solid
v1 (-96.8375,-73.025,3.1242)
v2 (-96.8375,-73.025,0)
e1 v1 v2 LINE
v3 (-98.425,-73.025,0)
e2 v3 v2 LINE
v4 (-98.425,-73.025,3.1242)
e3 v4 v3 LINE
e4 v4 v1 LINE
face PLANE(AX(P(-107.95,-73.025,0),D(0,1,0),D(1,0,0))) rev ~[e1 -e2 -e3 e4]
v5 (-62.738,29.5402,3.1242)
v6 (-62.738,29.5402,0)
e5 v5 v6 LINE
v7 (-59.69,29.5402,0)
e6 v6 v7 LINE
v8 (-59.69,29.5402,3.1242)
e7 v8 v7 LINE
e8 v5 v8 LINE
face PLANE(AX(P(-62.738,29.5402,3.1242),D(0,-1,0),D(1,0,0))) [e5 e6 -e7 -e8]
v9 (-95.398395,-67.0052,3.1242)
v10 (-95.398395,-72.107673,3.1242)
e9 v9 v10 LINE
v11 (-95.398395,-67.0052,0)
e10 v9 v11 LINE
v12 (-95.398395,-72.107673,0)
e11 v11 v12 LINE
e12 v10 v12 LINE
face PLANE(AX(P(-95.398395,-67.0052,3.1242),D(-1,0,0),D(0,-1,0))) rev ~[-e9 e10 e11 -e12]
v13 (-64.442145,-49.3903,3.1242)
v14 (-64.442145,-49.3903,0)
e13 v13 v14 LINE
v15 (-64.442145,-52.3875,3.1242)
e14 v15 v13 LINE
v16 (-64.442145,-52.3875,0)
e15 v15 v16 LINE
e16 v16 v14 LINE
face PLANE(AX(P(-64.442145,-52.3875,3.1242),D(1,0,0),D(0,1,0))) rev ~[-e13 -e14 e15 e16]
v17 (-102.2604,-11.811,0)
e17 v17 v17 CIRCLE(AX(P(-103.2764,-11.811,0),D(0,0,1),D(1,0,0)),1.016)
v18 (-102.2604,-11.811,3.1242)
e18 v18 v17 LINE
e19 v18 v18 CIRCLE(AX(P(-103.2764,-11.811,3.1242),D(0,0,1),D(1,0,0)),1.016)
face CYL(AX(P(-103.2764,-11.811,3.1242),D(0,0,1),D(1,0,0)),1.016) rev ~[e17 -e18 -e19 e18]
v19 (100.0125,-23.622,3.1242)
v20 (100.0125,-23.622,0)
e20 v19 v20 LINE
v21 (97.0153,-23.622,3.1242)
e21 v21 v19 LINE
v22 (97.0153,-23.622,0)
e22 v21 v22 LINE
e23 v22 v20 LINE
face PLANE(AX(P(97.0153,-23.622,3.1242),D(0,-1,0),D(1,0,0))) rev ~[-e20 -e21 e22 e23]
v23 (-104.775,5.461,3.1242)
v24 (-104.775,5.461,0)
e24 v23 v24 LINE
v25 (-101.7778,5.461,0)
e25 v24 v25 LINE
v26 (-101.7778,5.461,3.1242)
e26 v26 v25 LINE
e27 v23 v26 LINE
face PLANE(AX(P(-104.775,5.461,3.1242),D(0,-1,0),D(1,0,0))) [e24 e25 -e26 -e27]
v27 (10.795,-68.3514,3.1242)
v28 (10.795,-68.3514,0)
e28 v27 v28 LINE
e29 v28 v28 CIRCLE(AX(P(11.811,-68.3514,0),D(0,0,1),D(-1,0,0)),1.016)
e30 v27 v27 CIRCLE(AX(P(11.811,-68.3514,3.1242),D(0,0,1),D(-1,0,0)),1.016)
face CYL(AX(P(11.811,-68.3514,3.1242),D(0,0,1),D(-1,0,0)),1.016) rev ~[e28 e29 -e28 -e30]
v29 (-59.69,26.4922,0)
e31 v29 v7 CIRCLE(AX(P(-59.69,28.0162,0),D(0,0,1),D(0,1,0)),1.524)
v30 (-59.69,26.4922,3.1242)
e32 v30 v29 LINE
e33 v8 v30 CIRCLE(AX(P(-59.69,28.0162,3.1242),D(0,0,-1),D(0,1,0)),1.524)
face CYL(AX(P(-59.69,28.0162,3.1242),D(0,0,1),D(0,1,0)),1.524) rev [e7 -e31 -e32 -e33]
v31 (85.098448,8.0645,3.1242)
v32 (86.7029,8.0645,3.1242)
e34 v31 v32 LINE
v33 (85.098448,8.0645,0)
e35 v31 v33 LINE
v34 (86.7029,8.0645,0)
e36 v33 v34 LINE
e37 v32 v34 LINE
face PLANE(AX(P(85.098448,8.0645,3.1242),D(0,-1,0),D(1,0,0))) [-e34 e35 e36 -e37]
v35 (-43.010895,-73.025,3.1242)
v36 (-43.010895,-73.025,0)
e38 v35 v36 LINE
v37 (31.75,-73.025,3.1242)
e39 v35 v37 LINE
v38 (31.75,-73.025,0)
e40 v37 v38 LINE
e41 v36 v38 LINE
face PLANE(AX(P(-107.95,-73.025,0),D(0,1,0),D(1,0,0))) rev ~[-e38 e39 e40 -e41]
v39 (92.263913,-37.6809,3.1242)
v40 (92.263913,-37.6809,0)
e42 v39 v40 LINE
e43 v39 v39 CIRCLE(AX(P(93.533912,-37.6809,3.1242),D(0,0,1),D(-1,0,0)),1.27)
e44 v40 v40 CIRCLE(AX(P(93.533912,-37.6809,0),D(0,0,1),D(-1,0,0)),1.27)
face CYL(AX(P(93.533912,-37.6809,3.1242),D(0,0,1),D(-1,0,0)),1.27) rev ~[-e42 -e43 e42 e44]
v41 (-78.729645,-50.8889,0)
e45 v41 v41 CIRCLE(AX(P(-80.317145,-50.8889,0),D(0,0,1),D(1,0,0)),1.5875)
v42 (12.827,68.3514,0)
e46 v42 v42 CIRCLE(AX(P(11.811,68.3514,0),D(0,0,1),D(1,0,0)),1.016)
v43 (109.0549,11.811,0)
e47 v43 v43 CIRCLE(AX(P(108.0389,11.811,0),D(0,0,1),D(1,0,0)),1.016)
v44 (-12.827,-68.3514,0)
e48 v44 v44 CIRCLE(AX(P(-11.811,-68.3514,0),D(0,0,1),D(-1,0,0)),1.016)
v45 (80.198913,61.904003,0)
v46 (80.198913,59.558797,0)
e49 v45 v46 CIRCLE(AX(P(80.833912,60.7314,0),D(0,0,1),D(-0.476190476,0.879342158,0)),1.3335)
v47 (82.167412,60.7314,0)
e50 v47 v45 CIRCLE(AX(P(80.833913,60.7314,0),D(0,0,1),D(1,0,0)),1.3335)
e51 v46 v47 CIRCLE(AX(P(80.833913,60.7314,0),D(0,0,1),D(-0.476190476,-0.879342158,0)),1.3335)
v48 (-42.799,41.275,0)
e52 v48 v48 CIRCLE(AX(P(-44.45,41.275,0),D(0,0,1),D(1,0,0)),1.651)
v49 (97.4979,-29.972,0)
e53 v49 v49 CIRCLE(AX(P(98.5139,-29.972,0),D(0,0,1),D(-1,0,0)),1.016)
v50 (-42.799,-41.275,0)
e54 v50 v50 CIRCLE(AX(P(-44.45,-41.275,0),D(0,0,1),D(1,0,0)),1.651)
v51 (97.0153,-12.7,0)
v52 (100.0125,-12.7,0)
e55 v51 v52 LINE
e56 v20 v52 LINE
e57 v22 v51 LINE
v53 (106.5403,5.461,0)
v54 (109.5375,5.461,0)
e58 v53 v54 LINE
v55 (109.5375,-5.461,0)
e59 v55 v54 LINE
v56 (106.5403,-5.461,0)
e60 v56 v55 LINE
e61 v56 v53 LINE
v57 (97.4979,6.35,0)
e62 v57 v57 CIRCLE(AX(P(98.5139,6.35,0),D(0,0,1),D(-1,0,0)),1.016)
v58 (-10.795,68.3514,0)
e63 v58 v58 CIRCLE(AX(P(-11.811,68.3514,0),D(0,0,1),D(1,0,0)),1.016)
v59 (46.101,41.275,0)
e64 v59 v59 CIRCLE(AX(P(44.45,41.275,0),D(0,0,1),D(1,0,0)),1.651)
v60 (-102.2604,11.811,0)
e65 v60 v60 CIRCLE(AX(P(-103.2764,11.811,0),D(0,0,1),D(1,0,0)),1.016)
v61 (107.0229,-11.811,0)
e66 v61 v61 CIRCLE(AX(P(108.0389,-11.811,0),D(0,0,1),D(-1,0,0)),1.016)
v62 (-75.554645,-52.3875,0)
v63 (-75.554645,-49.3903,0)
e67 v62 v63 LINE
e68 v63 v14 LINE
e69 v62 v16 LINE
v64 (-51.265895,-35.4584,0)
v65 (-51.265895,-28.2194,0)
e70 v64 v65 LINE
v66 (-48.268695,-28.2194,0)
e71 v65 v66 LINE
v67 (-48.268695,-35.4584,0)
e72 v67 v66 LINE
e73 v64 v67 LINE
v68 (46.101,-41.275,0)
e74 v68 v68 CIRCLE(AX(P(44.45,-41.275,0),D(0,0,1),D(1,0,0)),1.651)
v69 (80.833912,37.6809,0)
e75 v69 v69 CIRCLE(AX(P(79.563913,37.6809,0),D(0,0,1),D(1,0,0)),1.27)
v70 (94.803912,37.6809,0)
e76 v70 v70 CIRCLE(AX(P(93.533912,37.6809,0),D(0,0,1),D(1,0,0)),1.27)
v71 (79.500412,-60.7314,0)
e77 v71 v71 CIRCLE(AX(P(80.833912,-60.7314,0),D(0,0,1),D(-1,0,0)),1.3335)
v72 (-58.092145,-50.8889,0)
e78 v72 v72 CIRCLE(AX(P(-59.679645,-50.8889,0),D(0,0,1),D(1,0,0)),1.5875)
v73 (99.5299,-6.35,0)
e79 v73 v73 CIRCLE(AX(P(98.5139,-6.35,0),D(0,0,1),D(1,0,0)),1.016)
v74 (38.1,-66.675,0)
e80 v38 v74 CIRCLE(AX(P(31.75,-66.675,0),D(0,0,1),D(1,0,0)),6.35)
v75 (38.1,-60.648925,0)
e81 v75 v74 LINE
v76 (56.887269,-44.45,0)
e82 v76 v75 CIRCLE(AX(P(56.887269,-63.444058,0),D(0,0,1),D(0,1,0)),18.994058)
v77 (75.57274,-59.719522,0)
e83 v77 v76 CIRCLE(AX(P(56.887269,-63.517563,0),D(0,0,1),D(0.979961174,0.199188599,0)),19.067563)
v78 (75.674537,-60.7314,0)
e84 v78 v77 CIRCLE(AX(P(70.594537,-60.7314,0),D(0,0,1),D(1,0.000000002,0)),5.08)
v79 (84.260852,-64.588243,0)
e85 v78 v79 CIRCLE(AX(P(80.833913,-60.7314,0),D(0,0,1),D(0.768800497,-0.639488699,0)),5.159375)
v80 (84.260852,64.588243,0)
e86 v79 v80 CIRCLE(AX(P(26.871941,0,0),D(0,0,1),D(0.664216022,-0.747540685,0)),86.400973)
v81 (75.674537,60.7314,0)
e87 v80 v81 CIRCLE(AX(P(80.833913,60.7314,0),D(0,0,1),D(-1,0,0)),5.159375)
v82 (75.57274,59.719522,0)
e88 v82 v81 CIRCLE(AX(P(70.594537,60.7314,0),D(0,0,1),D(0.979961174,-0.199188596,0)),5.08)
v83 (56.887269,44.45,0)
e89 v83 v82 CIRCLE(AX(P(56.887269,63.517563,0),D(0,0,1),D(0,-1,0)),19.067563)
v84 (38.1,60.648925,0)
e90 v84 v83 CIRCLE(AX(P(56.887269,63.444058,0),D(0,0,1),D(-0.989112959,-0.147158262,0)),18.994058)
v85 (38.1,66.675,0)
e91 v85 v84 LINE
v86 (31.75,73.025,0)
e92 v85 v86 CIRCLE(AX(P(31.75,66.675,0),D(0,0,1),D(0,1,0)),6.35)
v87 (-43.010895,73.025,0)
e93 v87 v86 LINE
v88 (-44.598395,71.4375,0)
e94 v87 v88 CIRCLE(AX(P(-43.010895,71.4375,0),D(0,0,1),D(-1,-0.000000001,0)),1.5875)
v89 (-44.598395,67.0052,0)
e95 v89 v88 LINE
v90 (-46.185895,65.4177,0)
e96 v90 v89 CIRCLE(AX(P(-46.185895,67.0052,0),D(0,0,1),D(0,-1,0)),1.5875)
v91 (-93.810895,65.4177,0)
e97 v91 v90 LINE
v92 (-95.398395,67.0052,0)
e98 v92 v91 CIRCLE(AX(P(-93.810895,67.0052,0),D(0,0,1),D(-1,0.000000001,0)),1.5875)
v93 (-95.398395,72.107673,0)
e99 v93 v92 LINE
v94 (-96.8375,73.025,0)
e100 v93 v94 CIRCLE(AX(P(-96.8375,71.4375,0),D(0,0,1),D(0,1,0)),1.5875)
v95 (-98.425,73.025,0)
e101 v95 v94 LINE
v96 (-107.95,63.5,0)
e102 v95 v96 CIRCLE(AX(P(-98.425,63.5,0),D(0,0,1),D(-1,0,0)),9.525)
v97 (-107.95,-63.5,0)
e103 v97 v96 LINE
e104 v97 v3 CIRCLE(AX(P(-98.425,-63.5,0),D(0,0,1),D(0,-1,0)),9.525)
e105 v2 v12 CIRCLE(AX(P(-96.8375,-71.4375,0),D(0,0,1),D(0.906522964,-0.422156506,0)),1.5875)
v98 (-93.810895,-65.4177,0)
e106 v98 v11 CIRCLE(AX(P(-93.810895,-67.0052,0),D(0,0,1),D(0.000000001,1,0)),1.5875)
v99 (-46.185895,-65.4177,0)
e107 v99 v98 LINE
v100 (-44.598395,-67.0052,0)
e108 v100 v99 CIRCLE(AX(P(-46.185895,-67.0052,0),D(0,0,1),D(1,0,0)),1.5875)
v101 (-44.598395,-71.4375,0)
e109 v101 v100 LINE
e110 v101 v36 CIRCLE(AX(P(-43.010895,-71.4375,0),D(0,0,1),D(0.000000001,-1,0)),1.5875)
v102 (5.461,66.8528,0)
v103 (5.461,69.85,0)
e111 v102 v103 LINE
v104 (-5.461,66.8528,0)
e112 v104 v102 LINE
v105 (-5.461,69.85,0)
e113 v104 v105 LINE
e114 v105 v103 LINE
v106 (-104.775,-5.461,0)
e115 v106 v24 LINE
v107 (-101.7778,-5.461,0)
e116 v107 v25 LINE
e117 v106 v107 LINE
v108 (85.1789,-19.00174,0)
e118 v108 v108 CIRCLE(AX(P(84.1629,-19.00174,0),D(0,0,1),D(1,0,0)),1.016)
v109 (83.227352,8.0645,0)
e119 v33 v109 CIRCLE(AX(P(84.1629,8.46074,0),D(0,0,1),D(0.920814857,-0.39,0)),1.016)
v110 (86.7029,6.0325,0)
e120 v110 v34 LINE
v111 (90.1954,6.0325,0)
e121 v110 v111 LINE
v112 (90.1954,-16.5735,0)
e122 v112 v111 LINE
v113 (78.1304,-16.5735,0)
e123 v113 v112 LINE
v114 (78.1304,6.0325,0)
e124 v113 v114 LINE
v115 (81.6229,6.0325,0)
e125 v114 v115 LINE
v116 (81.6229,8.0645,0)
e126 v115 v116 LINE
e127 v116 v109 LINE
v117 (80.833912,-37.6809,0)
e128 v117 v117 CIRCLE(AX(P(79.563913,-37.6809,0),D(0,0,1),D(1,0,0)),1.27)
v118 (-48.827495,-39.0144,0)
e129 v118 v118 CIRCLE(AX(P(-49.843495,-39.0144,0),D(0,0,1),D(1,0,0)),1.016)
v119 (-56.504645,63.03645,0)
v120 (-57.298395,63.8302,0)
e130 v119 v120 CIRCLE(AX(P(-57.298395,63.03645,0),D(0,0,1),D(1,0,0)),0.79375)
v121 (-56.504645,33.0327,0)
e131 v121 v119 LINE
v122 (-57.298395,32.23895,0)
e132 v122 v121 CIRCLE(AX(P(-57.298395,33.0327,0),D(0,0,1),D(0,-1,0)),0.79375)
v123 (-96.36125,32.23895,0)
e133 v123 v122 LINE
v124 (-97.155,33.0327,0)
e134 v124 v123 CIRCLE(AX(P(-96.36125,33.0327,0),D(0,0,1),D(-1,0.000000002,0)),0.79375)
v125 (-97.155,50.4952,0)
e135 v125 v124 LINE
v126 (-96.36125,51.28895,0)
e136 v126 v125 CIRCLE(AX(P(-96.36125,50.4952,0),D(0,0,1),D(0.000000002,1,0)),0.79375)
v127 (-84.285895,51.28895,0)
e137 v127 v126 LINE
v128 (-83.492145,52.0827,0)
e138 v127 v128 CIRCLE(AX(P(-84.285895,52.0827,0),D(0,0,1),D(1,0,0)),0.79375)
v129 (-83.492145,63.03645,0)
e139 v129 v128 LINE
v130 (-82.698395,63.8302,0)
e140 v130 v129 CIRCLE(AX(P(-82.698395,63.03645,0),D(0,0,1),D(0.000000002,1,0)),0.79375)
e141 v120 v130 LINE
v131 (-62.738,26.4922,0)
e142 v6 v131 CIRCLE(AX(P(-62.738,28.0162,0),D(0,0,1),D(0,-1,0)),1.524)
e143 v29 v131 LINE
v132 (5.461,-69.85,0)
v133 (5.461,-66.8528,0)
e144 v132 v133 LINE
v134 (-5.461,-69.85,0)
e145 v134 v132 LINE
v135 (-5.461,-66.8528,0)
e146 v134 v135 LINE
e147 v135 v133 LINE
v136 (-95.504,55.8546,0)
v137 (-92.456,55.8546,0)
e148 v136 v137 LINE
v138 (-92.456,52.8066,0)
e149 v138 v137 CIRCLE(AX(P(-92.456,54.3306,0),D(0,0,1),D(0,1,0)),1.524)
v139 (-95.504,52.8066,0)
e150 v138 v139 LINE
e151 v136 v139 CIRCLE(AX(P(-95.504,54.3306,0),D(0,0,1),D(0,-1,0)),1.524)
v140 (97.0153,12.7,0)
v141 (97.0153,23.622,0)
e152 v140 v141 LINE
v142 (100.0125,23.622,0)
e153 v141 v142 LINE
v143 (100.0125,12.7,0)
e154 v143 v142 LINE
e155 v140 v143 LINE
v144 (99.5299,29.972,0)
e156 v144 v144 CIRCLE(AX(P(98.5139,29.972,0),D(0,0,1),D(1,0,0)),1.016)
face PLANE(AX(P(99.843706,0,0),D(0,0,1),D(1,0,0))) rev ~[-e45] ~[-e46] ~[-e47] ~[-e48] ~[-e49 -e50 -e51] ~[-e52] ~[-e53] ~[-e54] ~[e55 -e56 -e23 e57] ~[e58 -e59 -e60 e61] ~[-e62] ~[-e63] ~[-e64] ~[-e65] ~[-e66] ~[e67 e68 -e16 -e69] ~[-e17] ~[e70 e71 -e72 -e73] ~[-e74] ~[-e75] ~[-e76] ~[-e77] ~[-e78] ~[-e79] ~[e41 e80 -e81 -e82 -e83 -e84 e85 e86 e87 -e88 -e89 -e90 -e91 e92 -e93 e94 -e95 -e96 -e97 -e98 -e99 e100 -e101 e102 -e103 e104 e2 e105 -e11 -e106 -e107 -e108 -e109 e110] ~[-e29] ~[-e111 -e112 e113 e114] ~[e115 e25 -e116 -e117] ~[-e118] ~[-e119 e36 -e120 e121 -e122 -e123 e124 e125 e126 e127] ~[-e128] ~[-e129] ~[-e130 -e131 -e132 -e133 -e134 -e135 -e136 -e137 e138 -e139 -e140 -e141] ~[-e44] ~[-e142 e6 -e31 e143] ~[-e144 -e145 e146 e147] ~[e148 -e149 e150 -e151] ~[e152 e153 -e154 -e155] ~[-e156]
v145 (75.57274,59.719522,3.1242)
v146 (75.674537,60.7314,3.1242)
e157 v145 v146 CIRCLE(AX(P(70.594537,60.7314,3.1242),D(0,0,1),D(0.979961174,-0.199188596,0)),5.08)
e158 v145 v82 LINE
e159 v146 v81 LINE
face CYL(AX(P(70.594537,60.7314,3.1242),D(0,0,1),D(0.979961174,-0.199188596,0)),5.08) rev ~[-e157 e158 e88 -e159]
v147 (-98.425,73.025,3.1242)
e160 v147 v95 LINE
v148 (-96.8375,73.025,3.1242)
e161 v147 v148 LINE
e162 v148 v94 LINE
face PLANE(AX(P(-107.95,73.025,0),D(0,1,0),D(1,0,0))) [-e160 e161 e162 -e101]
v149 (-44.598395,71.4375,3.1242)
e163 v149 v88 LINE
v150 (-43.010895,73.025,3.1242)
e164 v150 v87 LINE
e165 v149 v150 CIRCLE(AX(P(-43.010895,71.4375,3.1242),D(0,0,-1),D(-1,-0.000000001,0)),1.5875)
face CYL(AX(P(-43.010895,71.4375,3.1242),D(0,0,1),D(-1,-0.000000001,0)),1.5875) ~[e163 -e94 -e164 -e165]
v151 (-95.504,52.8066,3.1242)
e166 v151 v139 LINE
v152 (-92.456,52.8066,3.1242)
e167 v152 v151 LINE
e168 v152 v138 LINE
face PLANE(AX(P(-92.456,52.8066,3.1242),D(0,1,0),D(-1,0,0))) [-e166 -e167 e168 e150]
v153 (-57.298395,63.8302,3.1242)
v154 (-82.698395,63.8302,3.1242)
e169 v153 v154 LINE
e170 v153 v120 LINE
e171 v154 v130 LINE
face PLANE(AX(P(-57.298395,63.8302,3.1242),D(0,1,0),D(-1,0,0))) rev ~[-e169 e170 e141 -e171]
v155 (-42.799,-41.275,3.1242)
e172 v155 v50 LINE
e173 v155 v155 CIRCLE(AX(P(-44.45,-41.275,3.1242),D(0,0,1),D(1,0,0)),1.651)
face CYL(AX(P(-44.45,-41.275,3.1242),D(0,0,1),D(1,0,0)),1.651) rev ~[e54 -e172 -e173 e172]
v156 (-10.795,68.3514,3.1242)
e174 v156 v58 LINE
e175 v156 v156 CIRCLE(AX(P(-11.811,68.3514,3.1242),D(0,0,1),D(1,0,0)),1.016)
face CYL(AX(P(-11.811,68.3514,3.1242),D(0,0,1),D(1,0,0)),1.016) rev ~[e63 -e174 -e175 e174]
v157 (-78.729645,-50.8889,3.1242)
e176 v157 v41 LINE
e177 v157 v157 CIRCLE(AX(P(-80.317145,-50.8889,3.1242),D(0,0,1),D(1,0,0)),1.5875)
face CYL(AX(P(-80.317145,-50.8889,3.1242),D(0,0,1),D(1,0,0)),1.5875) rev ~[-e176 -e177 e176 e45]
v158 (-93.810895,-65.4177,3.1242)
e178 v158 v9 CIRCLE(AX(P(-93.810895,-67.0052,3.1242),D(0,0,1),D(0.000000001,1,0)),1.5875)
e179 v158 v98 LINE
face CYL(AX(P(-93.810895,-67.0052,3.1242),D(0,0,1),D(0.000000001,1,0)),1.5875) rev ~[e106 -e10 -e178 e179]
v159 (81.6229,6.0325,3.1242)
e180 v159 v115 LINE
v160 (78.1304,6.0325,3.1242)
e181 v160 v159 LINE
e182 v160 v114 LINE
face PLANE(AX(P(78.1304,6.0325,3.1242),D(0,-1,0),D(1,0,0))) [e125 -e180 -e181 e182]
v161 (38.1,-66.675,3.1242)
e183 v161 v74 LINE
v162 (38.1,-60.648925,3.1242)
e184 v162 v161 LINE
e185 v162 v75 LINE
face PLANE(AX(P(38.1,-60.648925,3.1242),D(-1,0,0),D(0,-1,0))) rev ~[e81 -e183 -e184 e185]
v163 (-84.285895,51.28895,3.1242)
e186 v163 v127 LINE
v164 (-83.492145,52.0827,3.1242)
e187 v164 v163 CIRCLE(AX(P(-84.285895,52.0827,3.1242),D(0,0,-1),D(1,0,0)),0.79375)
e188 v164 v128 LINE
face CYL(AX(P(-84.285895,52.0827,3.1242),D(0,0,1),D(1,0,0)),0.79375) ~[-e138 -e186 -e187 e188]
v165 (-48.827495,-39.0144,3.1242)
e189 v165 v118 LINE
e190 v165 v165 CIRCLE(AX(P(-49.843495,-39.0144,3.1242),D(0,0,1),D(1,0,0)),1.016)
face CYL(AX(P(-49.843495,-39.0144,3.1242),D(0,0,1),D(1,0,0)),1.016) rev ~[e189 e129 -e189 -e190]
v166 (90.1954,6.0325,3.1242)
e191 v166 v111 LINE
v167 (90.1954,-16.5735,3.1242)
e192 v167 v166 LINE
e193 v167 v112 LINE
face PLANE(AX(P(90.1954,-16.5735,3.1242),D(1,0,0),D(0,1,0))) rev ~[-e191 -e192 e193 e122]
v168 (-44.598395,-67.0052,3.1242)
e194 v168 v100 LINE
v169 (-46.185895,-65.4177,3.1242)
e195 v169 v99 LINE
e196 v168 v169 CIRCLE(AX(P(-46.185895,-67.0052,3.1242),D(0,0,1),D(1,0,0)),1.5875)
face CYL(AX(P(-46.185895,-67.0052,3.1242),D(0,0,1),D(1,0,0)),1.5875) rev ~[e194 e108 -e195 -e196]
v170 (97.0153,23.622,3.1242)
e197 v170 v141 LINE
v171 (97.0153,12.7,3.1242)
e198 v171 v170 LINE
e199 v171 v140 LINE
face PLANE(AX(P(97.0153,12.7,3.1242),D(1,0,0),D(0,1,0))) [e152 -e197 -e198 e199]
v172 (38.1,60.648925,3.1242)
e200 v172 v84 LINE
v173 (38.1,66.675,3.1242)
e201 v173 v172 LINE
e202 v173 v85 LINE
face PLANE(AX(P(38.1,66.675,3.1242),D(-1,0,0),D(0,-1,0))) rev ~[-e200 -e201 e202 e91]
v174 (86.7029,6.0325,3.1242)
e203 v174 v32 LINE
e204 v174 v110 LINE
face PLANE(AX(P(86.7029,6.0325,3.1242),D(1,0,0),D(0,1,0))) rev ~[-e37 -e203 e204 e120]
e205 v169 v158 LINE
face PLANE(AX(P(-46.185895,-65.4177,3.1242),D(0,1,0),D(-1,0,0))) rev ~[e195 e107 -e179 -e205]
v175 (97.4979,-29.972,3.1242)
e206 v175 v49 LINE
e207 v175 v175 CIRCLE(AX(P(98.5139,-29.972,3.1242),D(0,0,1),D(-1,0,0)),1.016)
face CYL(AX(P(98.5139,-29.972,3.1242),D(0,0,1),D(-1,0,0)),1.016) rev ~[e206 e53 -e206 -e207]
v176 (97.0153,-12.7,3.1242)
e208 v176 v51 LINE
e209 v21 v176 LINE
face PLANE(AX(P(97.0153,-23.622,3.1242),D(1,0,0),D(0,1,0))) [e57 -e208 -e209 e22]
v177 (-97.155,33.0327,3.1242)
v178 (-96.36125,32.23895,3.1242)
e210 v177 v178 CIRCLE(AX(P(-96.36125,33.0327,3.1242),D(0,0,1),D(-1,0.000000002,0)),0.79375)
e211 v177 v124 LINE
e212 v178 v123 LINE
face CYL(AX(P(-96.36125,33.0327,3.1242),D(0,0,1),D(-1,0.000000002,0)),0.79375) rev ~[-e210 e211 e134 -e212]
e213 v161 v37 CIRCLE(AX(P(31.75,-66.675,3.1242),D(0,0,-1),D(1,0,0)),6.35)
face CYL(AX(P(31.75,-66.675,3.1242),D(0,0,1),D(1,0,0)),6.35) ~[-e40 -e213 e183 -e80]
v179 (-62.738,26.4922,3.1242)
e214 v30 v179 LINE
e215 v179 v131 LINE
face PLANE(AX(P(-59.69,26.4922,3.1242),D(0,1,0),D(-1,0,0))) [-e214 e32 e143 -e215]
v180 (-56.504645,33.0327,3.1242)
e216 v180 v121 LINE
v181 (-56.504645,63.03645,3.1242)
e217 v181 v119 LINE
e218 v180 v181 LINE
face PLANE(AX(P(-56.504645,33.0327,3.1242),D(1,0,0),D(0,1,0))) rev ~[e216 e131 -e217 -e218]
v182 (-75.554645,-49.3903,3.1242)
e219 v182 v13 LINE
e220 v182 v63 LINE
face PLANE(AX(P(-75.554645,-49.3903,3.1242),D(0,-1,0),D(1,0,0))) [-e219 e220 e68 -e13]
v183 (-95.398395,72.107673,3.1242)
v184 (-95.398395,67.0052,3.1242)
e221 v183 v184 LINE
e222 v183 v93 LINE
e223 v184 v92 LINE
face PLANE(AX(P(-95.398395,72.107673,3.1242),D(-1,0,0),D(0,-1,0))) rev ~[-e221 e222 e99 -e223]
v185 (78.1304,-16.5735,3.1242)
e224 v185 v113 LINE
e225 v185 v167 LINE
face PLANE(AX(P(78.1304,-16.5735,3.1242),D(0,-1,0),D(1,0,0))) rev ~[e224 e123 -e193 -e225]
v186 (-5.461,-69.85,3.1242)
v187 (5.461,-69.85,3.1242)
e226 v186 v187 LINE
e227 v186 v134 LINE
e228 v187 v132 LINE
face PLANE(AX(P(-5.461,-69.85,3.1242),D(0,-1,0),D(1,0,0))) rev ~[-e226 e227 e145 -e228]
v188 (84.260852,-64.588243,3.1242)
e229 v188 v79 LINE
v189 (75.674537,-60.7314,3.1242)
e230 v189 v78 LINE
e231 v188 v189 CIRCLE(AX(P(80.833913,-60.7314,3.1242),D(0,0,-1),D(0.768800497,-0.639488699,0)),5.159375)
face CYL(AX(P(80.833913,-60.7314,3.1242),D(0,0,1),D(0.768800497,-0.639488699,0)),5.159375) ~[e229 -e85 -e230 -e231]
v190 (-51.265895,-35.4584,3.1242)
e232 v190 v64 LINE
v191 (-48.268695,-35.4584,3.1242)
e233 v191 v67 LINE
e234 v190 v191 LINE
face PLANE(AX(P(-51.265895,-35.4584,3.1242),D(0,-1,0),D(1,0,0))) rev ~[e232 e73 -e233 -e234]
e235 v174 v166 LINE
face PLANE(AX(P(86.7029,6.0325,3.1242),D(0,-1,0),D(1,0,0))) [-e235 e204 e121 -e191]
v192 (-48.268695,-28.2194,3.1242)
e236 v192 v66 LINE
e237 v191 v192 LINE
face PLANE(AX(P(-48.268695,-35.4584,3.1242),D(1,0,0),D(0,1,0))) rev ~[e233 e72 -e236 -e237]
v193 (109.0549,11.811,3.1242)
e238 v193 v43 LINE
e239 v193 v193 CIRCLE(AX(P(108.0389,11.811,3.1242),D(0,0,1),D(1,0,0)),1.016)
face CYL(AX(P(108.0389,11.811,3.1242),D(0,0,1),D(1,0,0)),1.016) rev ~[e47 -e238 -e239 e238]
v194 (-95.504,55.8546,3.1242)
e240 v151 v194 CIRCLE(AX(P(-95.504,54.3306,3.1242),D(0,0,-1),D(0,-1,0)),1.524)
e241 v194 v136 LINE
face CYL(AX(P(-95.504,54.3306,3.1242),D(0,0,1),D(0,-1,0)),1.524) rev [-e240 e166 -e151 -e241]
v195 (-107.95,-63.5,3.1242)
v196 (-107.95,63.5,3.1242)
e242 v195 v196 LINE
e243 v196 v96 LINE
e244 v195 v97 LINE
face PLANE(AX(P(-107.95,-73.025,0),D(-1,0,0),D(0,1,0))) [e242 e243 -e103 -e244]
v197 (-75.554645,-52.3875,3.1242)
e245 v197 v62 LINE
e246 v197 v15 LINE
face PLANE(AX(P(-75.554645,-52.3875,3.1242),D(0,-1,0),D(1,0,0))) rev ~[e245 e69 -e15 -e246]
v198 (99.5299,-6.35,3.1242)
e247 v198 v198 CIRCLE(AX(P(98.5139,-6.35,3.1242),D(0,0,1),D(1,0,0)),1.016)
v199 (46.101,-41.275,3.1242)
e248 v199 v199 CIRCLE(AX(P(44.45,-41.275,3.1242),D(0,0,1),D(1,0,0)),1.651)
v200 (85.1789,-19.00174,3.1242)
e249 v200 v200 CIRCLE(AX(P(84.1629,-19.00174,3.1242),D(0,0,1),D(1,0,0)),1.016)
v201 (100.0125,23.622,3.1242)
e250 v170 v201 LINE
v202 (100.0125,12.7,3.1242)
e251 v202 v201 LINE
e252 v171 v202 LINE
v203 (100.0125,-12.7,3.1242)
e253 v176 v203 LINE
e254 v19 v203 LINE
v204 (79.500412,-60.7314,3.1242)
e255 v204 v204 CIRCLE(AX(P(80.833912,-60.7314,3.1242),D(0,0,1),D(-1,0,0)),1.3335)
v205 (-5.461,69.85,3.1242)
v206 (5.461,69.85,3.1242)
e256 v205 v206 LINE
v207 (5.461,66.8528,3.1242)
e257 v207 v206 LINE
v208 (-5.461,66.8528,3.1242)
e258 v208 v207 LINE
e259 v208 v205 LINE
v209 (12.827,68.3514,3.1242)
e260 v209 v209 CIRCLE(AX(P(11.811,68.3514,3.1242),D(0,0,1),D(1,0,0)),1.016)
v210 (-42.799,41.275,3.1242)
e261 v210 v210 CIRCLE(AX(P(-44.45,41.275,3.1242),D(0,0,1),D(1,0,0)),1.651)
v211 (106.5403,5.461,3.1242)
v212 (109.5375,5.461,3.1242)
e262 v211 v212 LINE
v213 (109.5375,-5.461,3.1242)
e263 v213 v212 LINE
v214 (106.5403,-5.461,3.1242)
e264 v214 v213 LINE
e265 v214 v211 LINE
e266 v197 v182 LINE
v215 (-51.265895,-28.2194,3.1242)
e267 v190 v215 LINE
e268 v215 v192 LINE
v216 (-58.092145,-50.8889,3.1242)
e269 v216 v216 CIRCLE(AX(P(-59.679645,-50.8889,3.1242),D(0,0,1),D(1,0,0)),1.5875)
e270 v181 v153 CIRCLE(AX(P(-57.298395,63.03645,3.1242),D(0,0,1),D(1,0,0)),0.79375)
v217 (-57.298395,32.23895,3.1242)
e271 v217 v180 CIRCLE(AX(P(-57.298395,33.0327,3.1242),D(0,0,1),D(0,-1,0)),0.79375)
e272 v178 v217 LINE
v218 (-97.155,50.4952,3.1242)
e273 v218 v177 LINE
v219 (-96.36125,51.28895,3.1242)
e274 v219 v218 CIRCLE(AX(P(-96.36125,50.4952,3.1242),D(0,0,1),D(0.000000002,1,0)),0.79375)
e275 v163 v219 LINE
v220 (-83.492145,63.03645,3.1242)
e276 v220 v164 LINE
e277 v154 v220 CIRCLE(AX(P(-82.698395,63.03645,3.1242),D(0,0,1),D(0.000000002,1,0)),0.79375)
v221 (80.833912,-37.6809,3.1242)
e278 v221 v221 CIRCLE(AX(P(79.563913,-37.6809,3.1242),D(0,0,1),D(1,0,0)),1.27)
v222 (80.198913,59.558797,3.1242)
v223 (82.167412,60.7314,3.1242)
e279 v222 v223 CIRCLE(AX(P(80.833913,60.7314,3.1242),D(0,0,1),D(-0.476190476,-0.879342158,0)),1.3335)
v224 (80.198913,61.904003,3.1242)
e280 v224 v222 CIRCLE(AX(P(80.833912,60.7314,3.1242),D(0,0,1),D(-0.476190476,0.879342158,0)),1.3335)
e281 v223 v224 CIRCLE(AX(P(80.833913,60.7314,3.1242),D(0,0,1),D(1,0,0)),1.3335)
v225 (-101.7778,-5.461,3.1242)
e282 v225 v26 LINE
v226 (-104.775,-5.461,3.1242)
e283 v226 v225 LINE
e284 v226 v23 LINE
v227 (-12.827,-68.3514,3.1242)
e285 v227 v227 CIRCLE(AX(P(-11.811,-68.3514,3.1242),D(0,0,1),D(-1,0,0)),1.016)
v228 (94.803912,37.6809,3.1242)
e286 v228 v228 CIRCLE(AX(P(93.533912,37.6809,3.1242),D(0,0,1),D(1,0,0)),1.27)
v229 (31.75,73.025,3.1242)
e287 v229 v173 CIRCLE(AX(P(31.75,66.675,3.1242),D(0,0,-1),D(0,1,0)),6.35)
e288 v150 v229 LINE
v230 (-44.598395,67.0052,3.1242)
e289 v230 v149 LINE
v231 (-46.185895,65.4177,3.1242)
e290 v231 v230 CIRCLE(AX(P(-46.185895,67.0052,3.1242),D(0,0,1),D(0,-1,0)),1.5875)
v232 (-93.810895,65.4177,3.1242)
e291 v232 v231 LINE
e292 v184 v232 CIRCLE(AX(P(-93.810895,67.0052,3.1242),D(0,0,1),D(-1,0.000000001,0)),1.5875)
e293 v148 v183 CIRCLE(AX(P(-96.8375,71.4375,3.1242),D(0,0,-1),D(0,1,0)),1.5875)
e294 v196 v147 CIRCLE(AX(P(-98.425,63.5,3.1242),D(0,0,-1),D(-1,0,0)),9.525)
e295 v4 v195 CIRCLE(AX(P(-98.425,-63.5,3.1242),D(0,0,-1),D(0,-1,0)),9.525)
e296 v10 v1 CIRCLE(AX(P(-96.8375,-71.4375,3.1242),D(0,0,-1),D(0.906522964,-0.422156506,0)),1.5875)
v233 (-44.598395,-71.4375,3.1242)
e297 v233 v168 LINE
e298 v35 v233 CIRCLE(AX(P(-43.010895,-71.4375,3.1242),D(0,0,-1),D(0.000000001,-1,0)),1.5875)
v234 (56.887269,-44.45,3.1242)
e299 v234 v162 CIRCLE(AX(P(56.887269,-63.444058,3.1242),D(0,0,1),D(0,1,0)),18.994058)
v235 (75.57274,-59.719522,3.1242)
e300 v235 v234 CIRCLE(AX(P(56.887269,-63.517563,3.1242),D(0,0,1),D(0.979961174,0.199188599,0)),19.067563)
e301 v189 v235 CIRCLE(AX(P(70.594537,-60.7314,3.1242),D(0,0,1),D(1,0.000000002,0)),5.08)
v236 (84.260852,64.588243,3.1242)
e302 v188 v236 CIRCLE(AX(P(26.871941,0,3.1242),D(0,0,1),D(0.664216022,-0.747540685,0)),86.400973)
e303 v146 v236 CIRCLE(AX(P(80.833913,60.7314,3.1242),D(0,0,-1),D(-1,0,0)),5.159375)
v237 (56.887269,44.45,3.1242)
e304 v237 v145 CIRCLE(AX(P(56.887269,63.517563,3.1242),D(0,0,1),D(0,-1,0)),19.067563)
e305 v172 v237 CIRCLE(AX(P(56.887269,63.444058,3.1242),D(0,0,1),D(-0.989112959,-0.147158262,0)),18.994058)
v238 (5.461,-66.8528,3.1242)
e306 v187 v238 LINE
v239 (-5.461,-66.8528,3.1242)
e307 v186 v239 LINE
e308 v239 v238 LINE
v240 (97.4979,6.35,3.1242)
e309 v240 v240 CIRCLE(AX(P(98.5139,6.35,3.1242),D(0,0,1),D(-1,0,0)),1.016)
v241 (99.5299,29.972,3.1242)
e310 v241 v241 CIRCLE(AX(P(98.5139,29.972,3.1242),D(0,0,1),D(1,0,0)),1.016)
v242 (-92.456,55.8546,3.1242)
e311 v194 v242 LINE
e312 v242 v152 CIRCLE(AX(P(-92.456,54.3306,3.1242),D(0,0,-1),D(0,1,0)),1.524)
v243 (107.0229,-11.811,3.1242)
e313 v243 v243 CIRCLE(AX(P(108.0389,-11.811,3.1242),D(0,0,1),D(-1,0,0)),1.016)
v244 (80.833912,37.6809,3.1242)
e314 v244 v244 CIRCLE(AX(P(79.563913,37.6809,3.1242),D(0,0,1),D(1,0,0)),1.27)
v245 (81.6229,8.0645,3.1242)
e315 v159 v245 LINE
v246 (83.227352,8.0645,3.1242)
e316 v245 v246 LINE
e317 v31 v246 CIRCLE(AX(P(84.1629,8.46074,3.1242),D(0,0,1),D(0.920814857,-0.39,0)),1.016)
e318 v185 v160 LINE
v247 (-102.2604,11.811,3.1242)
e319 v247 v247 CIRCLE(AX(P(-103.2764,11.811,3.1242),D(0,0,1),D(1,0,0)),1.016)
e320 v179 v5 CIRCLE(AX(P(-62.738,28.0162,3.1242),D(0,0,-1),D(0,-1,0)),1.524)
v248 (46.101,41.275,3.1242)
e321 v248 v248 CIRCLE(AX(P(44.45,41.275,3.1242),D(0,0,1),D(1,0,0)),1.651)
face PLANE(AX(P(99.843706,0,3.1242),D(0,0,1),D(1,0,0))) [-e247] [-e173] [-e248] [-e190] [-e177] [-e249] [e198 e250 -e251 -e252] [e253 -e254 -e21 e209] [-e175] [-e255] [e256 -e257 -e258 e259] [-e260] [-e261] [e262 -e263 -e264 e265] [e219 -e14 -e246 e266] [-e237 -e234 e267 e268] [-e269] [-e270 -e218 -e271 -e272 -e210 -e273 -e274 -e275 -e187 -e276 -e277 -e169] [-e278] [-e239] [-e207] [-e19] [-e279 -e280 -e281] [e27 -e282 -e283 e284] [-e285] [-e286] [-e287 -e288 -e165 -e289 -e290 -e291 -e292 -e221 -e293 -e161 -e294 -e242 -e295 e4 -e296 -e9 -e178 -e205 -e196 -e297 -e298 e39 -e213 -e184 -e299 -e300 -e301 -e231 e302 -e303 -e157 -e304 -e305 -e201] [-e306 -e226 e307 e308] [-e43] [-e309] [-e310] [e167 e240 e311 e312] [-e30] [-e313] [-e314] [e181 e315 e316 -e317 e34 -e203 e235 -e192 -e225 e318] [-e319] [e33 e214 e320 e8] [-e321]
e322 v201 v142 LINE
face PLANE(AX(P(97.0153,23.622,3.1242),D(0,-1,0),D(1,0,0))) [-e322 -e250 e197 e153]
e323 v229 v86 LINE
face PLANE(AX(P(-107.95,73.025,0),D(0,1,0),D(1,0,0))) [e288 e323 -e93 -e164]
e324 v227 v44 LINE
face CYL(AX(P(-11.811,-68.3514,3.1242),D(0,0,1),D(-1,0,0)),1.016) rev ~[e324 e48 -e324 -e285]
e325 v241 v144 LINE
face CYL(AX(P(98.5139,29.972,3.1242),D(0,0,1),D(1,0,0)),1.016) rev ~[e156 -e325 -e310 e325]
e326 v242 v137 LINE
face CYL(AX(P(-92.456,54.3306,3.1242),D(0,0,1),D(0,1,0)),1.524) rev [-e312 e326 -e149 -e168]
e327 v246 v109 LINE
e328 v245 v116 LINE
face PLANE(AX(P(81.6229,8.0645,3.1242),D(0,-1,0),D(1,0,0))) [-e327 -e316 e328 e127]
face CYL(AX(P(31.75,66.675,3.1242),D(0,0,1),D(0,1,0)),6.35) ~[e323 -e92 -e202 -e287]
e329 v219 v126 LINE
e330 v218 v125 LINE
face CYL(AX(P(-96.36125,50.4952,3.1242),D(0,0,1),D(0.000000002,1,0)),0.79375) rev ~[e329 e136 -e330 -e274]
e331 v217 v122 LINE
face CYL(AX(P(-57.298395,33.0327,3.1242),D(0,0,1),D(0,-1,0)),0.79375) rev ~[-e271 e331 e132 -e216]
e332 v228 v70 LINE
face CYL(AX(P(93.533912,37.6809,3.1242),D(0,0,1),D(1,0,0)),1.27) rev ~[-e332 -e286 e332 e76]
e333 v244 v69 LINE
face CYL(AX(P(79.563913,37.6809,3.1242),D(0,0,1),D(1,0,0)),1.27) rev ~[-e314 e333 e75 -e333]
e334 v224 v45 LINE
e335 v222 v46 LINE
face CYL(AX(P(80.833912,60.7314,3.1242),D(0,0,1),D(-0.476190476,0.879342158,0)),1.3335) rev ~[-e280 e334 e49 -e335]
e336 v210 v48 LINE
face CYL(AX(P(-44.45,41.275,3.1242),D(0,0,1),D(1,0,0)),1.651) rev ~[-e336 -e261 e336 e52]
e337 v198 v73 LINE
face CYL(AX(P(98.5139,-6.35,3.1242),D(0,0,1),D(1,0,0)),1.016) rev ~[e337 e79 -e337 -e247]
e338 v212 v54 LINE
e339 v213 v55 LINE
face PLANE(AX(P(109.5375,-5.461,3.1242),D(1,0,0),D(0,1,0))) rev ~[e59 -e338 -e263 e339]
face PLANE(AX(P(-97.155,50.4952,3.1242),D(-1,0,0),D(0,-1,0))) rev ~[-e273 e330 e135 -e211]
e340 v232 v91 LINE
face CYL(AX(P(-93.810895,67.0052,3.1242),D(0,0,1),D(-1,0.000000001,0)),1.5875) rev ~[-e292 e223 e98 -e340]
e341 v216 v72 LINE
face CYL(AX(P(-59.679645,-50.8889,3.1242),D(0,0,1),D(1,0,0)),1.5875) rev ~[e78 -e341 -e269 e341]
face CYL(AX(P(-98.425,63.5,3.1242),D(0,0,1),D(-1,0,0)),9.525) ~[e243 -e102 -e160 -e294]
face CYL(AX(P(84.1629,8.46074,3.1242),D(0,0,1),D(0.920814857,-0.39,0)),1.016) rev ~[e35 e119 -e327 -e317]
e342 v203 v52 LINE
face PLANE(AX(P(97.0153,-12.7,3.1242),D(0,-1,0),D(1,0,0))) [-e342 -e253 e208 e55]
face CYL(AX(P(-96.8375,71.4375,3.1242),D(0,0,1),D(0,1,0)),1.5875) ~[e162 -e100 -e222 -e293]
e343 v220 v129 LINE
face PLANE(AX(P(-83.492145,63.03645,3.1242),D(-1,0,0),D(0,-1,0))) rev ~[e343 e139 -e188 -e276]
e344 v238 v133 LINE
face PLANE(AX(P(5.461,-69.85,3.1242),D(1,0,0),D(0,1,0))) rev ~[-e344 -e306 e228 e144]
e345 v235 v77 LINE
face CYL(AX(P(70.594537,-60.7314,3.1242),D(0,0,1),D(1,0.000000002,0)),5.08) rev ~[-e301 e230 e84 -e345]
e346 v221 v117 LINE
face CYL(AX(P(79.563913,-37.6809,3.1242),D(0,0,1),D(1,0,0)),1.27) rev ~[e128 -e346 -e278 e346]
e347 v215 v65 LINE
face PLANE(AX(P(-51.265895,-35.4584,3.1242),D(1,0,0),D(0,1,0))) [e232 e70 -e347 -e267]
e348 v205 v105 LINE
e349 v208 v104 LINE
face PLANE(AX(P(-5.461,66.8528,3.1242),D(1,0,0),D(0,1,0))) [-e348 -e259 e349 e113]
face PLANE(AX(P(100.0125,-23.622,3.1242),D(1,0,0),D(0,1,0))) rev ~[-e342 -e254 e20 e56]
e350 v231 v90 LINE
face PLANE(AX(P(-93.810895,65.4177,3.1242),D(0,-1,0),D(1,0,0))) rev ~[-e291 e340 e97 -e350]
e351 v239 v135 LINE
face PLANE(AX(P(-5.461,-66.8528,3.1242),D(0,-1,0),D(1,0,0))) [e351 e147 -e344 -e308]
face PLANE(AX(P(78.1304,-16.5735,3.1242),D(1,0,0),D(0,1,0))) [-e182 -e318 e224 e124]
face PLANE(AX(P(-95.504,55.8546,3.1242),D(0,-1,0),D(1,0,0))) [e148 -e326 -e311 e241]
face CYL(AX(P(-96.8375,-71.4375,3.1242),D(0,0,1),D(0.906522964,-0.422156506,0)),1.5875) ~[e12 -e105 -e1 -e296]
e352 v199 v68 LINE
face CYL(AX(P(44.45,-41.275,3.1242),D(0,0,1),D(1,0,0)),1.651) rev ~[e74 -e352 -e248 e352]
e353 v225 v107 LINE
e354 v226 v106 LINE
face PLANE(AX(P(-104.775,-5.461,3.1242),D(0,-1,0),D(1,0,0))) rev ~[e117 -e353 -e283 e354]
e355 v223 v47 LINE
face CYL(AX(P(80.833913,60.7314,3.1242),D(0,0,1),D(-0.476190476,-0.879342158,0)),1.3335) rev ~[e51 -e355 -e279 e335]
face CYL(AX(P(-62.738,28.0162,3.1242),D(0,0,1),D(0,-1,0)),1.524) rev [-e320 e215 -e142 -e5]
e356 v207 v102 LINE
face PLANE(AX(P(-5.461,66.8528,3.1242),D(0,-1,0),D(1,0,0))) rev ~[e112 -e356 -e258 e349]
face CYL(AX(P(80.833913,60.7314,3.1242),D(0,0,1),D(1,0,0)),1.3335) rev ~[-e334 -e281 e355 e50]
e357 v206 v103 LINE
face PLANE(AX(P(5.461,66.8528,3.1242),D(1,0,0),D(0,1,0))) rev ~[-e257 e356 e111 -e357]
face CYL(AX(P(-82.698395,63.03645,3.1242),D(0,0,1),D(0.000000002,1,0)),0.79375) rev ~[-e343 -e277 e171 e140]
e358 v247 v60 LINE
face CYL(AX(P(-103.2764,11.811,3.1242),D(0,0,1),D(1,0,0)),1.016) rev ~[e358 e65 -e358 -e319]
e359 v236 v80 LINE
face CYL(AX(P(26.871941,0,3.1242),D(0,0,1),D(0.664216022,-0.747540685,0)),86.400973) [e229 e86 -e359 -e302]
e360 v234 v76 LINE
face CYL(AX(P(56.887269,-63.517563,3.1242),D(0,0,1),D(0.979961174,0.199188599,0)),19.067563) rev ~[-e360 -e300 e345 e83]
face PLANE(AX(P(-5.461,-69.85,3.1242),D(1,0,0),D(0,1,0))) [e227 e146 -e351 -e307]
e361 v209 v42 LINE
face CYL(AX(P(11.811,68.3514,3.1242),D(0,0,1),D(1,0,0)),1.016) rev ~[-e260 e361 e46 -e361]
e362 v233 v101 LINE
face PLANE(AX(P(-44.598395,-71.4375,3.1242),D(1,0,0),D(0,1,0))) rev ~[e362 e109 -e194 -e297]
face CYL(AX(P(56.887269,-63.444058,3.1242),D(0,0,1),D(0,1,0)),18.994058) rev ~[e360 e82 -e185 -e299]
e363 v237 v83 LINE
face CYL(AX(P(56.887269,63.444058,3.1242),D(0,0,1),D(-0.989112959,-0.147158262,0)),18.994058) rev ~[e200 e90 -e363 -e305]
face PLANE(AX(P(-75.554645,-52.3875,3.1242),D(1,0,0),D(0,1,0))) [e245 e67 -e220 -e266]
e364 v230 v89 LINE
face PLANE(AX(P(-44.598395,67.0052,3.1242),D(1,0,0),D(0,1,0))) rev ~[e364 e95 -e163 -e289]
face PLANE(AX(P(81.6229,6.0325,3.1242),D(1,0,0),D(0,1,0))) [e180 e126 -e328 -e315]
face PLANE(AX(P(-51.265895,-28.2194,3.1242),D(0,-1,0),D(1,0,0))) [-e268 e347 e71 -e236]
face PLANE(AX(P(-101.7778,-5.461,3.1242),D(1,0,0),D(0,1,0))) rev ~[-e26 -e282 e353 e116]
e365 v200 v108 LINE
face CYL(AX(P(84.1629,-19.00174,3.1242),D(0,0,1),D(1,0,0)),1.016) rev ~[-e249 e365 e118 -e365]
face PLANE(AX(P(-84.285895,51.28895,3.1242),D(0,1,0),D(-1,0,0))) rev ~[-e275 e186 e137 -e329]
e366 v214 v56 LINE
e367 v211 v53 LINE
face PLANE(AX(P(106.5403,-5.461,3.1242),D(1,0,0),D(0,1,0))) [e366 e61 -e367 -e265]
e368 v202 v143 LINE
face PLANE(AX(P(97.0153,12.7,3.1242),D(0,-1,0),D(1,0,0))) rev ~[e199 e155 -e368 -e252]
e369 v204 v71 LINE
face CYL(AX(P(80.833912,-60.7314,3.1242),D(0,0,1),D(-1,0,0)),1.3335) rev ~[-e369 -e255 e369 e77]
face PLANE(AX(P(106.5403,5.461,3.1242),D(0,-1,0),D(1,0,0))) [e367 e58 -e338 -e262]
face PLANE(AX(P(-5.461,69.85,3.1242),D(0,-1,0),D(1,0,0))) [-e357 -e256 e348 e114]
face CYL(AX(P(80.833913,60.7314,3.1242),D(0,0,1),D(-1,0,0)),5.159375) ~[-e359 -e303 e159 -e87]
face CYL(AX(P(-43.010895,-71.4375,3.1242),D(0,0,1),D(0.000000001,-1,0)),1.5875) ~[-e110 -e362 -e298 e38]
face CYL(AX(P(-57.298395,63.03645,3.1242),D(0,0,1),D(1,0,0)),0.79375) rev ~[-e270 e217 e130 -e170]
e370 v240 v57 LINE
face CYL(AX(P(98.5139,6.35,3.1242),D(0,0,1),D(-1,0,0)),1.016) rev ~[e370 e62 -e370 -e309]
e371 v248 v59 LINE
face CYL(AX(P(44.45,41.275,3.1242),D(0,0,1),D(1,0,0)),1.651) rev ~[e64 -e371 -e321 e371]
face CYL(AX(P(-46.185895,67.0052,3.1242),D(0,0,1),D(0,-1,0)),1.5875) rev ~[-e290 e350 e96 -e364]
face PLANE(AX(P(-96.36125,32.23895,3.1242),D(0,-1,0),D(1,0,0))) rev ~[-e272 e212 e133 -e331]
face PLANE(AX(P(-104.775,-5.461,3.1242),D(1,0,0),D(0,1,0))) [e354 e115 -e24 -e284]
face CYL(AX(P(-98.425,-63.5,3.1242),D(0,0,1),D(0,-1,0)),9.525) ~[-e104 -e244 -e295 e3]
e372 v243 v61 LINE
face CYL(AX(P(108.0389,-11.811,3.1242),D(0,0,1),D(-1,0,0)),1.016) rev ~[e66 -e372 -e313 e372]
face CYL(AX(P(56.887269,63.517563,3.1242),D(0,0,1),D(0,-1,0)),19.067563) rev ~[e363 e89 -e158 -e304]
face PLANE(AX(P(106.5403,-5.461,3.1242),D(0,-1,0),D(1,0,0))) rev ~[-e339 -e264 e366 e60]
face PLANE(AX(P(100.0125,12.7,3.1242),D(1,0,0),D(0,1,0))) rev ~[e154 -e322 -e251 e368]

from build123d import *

# Parameters (mm, degrees)
CROQUIS1_W                  = 215.9
CROQUIS1_H                  = 146.05
BI_DEPTH                    = 3.1242
CROQUIS2_R                  = 1.3335
DIRECCION_DEPTH             = 131.36722652
CROQUIS9_R                  = 1.27
SUSPENSION_DEPTH            = 131.36722652
FORMA_DELANTERA_DEPTH       = 131.36722652
DIFERENCIAL_TRASERO_DEPTH   = 131.36722652
ENTRADA_TRANSMISION_DEPTH   = 131.36722652
CROQUIS10_R                 = 1.016
CROQUIS10_W                 = 12.065
CROQUIS10_H                 = 22.606
CROQUIS10_W_2               = 5.08
CROQUIS10_H_2               = 2.032
SERVO_DEPTH                 = 131.36722652
CROQUIS12_R                 = 1.651
SOPORTES_BS_DEPTH           = 131.36722652
CROQUIS7_R                  = 1.5875
CROQUIS7_W                  = 11.1125
CROQUIS7_H                  = 2.9972
SOPORTE_EJE_DEPTH           = 131.36722652
CROQUIS14_R                 = 1.016
CROQUIS14_W                 = 2.9972
CROQUIS14_H                 = 7.239
ENCODER_DEPTH               = 131.36722652
SALIENTE_EXTRUIR1_DEPTH     = 3.1242
CROQUIS13_R                 = 1.016
CROQUIS13_W                 = 2.9972
CROQUIS13_H                 = 10.922
CROQUIS13_W_2               = 10.922
CROQUIS13_H_2               = 2.9972
SENSORES_DE_PRESENCIA_DEPTH = 135.807879643


with BuildPart() as part:
    # Croquis1 → BI (new body)
    with BuildSketch(Plane.XY):
        Rectangle(CROQUIS1_W, CROQUIS1_H)
    extrude(amount=BI_DEPTH)

    # Croquis2 → Direccion (cut, through all)
    with BuildSketch(Plane.XY.offset(3.1242)):
        with BuildLine():
            ThreePointArc((82.1674125, 60.7314), (81.516352882, 61.877042778), (80.1989125, 61.904002767))
            Line((80.1989125, 61.904002767), (80.1989125, 59.558797233))
            ThreePointArc((80.1989125, 59.558797233), (81.516352882, 59.585757222), (82.1674125, 60.7314))
        make_face()
        with BuildLine():
            Line((80.1989125, 59.558797233), (80.1989125, 61.904002767))
            ThreePointArc((80.1989125, 61.904002767), (79.5004125, 60.7314), (80.1989125, 59.558797233))
        make_face()
        with Locations(Location((80.8339125, -60.7314, 0), (0, 0, 180))):
            Circle(CROQUIS2_R)
    extrude(amount=-DIRECCION_DEPTH, mode=Mode.SUBTRACT)

    # Croquis9 → Suspension (cut, through all)
    with BuildSketch(Plane.XY.offset(3.1242)):
        with Locations((93.5339125, 37.6809)):
            Circle(CROQUIS9_R)
        with Locations(Location((93.5339125, -37.6809, 0), (0, 0, 180))):
            Circle(CROQUIS9_R)
        with Locations((79.5639125, 37.6809)):
            Circle(CROQUIS9_R)
        with Locations((79.5639125, -37.6809)):
            Circle(CROQUIS9_R)
    extrude(amount=-SUSPENSION_DEPTH, mode=Mode.SUBTRACT)

    # Croquis3 → Forma delantera (cut, through all)
    with BuildSketch(Plane.XY.offset(3.1242)):
        with BuildLine():
            ThreePointArc((31.75, 73.025), (36.240128061, 71.165128061), (38.1, 66.675))
            Line((38.1, 66.675), (38.1, 60.648925294))
            ThreePointArc((38.1, 60.648925294), (44.483976367, 49.058906773), (56.88726875, 44.45))
            ThreePointArc((56.88726875, 44.45), (68.952768587, 48.752886462), (75.572740263, 59.719521917))
            ThreePointArc((75.572740263, 59.719521917), (75.649024122, 60.222907145), (75.6745375, 60.7314))
            ThreePointArc((75.6745375, 60.7314), (79.079726884, 65.583408163), (84.800442563, 64.030762007))
            ThreePointArc((84.800442563, 64.030762007), (101.984927744, 34.043503392), (107.95, 0))
            Line((107.95, 0), (107.95, 73.025))
            Line((107.95, 73.025), (31.75, 73.025))
        make_face()
        with BuildLine():
            Line((107.95, -73.025), (107.95, 0))
            ThreePointArc((107.95, 0), (101.984927744, -34.043503392), (84.800442563, -64.030762007))
            ThreePointArc((84.800442563, -64.030762007), (79.079726884, -65.583408163), (75.6745375, -60.7314))
            ThreePointArc((75.6745375, -60.7314), (75.649024122, -60.222907145), (75.572740263, -59.719521917))
            ThreePointArc((75.572740263, -59.719521917), (68.952768587, -48.752886462), (56.88726875, -44.45))
            ThreePointArc((56.88726875, -44.45), (44.483976367, -49.058906773), (38.1, -60.648925294))
            Line((38.1, -60.648925294), (38.1, -66.675))
            ThreePointArc((38.1, -66.675), (36.240128061, -71.165128061), (31.75, -73.025))
            Line((31.75, -73.025), (107.95, -73.025))
        make_face()
        with BuildLine():
            ThreePointArc((-107.95, 63.5), (-105.160192091, 70.235192091), (-98.425, 73.025))
            Line((-98.425, 73.025), (-107.95, 73.025))
            Line((-107.95, 73.025), (-107.95, 63.5))
        make_face()
        with BuildLine():
            Line((-107.95, -73.025), (-98.425, -73.025))
            ThreePointArc((-98.425, -73.025), (-105.160192091, -70.235192091), (-107.95, -63.5))
            Line((-107.95, -63.5), (-107.95, -73.025))
        make_face()
    extrude(amount=-FORMA_DELANTERA_DEPTH, mode=Mode.SUBTRACT)

    # Croquis8 → Diferencial trasero (cut, through all)
    with BuildSketch(Plane.XY.offset(3.1242)):
        with BuildLine():
            Line((-62.738, 29.5402), (-59.69, 29.5402))
            ThreePointArc((-59.69, 29.5402), (-58.166, 28.0162), (-59.69, 26.4922))
            Line((-59.69, 26.4922), (-62.738, 26.4922))
            ThreePointArc((-62.738, 26.4922), (-64.262, 28.0162), (-62.738, 29.5402))
        make_face()
        with BuildLine():
            Line((-95.504, 55.8546), (-92.456, 55.8546))
            ThreePointArc((-92.456, 55.8546), (-90.932, 54.3306), (-92.456, 52.8066))
            Line((-92.456, 52.8066), (-95.504, 52.8066))
            ThreePointArc((-95.504, 52.8066), (-97.028, 54.3306), (-95.504, 55.8546))
        make_face()
    extrude(amount=-DIFERENCIAL_TRASERO_DEPTH, mode=Mode.SUBTRACT)

    # Croquis11 → Entrada transmision (cut, through all)
    with BuildSketch(Plane.XY.offset(3.1242)):
        with BuildLine():
            ThreePointArc((-96.8375, 73.025), (-95.984195865, 72.776166614), (-95.398394794, 72.107673453))
            Line((-95.398394794, 72.107673453), (-95.398394794, 67.0052))
            ThreePointArc((-95.398394794, 67.0052), (-94.93342681, 65.882667985), (-93.810894794, 65.4177))
            Line((-93.810894794, 65.4177), (-46.185894794, 65.4177))
            ThreePointArc((-46.185894794, 65.4177), (-45.063362779, 65.882667985), (-44.598394794, 67.0052))
            Line((-44.598394794, 67.0052), (-44.598394794, 71.4375))
            ThreePointArc((-44.598394794, 71.4375), (-44.13342681, 72.560032015), (-43.010894794, 73.025))
            Line((-43.010894794, 73.025), (-96.8375, 73.025))
        make_face()
        with BuildLine():
            Line((-96.8375, -73.025), (-43.010894794, -73.025))
            ThreePointArc((-43.010894794, -73.025), (-44.13342681, -72.560032015), (-44.598394794, -71.4375))
            Line((-44.598394794, -71.4375), (-44.598394794, -67.0052))
            ThreePointArc((-44.598394794, -67.0052), (-45.063362779, -65.882667985), (-46.185894794, -65.4177))
            Line((-46.185894794, -65.4177), (-93.810894794, -65.4177))
            ThreePointArc((-93.810894794, -65.4177), (-94.93342681, -65.882667985), (-95.398394794, -67.0052))
            Line((-95.398394794, -67.0052), (-95.398394794, -72.107673453))
            ThreePointArc((-95.398394794, -72.107673453), (-95.984195865, -72.776166614), (-96.8375, -73.025))
        make_face()
        with BuildLine():
            Line((-57.298394794, 63.8302), (-82.698394794, 63.8302))
            ThreePointArc((-82.698394794, 63.8302), (-83.259660802, 63.597716008), (-83.492144794, 63.03645))
            Line((-83.492144794, 63.03645), (-83.492144794, 52.0827))
            ThreePointArc((-83.492144794, 52.0827), (-83.724628787, 51.521433992), (-84.285894794, 51.28895))
            Line((-84.285894794, 51.28895), (-96.36125, 51.28895))
            ThreePointArc((-96.36125, 51.28895), (-96.922516008, 51.056466008), (-97.155, 50.4952))
            Line((-97.155, 50.4952), (-97.155, 33.0327))
            ThreePointArc((-97.155, 33.0327), (-96.922516008, 32.471433992), (-96.36125, 32.23895))
            Line((-96.36125, 32.23895), (-57.298394794, 32.23895))
            ThreePointArc((-57.298394794, 32.23895), (-56.737128787, 32.471433992), (-56.504644794, 33.0327))
            Line((-56.504644794, 33.0327), (-56.504644794, 63.03645))
            ThreePointArc((-56.504644794, 63.03645), (-56.737128787, 63.597716008), (-57.298394794, 63.8302))
        make_face()
    extrude(amount=-ENTRADA_TRANSMISION_DEPTH, mode=Mode.SUBTRACT)

    # Croquis10 → Servo (cut, through all)
    with BuildSketch(Plane.XY.offset(3.1242)):
        with Locations((84.1629, 8.46074)):
            Circle(CROQUIS10_R)
        with Locations((84.1629, -19.00174)):
            Circle(CROQUIS10_R)
        with Locations((84.1629, -5.2705)):
            Rectangle(CROQUIS10_W, CROQUIS10_H)
        with Locations((84.1629, 7.0485)):
            Rectangle(CROQUIS10_W_2, CROQUIS10_H_2)
    extrude(amount=-SERVO_DEPTH, mode=Mode.SUBTRACT)

    # Croquis12 → Soportes BS (cut, through all)
    with BuildSketch(Plane.XY.offset(3.1242)):
        with Locations((44.45, 41.275)):
            Circle(CROQUIS12_R)
        with Locations((-44.45, 41.275)):
            Circle(CROQUIS12_R)
        with Locations((-44.45, -41.275)):
            Circle(CROQUIS12_R)
        with Locations((44.45, -41.275)):
            Circle(CROQUIS12_R)
    extrude(amount=-SOPORTES_BS_DEPTH, mode=Mode.SUBTRACT)

    # Croquis7 → Soporte eje (cut, through all)
    with BuildSketch(Plane.XY.offset(3.1242)):
        with Locations((-80.317144794, -50.8889)):
            Circle(CROQUIS7_R)
        with Locations((-59.679644794, -50.8889)):
            Circle(CROQUIS7_R)
        with Locations((-69.998394794, -50.8889)):
            Rectangle(CROQUIS7_W, CROQUIS7_H)
    extrude(amount=-SOPORTE_EJE_DEPTH, mode=Mode.SUBTRACT)

    # Croquis14 → Encoder (cut, through all)
    with BuildSketch(Plane.XY.offset(3.1242)):
        with Locations((-49.843494794, -39.0144)):
            Circle(CROQUIS14_R)
        with Locations((-49.767294794, -31.8389)):
            Rectangle(CROQUIS14_W, CROQUIS14_H)
    extrude(amount=-ENCODER_DEPTH, mode=Mode.SUBTRACT)

    # Croquis15 → Saliente-Extruir1 (add)
    with BuildSketch(Plane.XY.offset(3.1242)):
        with BuildLine():
            ThreePointArc((84.26085204, 64.588242722), (84.541141165, 64.319659468), (84.800442563, 64.030762007))
            ThreePointArc((84.800442563, 64.030762007), (107.95, 0), (84.800442563, -64.030762007))
            ThreePointArc((84.800442563, -64.030762007), (84.541141165, -64.319659468), (84.26085204, -64.588242722))
            ThreePointArc((84.26085204, -64.588242722), (113.272914517, 0), (84.26085204, 64.588242722))
        make_face()
    extrude(amount=-SALIENTE_EXTRUIR1_DEPTH)

    # Croquis13 → Sensores de presencia (cut, through all)
    with BuildSketch(Plane.XY.offset(3.1242)):
        with Locations((108.0389, 11.811)):
            Circle(CROQUIS13_R)
        with Locations(Location((108.0389, -11.811, 0), (0, 0, 180))):
            Circle(CROQUIS13_R)
        with Locations((11.811, 68.3514)):
            Circle(CROQUIS13_R)
        with Locations((-11.811, 68.3514)):
            Circle(CROQUIS13_R)
        with Locations(Location((-11.811, -68.3514, 0), (0, 0, 180))):
            Circle(CROQUIS13_R)
        with Locations(Location((11.811, -68.3514, 0), (0, 0, 180))):
            Circle(CROQUIS13_R)
        with Locations((98.5139, 29.972)):
            Circle(CROQUIS13_R)
        with Locations(Location((98.5139, 6.35, 0), (0, 0, 180))):
            Circle(CROQUIS13_R)
        with Locations((98.5139, -6.35)):
            Circle(CROQUIS13_R)
        with Locations(Location((98.5139, -29.972, 0), (0, 0, 180))):
            Circle(CROQUIS13_R)
        with Locations((-103.2764, 11.811)):
            Circle(CROQUIS13_R)
        with Locations((-103.2764, -11.811)):
            Circle(CROQUIS13_R)
        with Locations((108.0389, 0)):
            Rectangle(CROQUIS13_W, CROQUIS13_H)
        with Locations((0, 68.3514)):
            Rectangle(CROQUIS13_W_2, CROQUIS13_H_2)
        with Locations((0, -68.3514)):
            Rectangle(CROQUIS13_W_2, CROQUIS13_H_2)
        with Locations((98.5139, 18.161)):
            Rectangle(CROQUIS13_W, CROQUIS13_H)
        with Locations((98.5139, -18.161)):
            Rectangle(CROQUIS13_W, CROQUIS13_H)
        with Locations((-103.2764, 0)):
            Rectangle(CROQUIS13_W, CROQUIS13_H)
    extrude(amount=-SENSORES_DE_PRESENCIA_DEPTH, mode=Mode.SUBTRACT)


solid = part.part
